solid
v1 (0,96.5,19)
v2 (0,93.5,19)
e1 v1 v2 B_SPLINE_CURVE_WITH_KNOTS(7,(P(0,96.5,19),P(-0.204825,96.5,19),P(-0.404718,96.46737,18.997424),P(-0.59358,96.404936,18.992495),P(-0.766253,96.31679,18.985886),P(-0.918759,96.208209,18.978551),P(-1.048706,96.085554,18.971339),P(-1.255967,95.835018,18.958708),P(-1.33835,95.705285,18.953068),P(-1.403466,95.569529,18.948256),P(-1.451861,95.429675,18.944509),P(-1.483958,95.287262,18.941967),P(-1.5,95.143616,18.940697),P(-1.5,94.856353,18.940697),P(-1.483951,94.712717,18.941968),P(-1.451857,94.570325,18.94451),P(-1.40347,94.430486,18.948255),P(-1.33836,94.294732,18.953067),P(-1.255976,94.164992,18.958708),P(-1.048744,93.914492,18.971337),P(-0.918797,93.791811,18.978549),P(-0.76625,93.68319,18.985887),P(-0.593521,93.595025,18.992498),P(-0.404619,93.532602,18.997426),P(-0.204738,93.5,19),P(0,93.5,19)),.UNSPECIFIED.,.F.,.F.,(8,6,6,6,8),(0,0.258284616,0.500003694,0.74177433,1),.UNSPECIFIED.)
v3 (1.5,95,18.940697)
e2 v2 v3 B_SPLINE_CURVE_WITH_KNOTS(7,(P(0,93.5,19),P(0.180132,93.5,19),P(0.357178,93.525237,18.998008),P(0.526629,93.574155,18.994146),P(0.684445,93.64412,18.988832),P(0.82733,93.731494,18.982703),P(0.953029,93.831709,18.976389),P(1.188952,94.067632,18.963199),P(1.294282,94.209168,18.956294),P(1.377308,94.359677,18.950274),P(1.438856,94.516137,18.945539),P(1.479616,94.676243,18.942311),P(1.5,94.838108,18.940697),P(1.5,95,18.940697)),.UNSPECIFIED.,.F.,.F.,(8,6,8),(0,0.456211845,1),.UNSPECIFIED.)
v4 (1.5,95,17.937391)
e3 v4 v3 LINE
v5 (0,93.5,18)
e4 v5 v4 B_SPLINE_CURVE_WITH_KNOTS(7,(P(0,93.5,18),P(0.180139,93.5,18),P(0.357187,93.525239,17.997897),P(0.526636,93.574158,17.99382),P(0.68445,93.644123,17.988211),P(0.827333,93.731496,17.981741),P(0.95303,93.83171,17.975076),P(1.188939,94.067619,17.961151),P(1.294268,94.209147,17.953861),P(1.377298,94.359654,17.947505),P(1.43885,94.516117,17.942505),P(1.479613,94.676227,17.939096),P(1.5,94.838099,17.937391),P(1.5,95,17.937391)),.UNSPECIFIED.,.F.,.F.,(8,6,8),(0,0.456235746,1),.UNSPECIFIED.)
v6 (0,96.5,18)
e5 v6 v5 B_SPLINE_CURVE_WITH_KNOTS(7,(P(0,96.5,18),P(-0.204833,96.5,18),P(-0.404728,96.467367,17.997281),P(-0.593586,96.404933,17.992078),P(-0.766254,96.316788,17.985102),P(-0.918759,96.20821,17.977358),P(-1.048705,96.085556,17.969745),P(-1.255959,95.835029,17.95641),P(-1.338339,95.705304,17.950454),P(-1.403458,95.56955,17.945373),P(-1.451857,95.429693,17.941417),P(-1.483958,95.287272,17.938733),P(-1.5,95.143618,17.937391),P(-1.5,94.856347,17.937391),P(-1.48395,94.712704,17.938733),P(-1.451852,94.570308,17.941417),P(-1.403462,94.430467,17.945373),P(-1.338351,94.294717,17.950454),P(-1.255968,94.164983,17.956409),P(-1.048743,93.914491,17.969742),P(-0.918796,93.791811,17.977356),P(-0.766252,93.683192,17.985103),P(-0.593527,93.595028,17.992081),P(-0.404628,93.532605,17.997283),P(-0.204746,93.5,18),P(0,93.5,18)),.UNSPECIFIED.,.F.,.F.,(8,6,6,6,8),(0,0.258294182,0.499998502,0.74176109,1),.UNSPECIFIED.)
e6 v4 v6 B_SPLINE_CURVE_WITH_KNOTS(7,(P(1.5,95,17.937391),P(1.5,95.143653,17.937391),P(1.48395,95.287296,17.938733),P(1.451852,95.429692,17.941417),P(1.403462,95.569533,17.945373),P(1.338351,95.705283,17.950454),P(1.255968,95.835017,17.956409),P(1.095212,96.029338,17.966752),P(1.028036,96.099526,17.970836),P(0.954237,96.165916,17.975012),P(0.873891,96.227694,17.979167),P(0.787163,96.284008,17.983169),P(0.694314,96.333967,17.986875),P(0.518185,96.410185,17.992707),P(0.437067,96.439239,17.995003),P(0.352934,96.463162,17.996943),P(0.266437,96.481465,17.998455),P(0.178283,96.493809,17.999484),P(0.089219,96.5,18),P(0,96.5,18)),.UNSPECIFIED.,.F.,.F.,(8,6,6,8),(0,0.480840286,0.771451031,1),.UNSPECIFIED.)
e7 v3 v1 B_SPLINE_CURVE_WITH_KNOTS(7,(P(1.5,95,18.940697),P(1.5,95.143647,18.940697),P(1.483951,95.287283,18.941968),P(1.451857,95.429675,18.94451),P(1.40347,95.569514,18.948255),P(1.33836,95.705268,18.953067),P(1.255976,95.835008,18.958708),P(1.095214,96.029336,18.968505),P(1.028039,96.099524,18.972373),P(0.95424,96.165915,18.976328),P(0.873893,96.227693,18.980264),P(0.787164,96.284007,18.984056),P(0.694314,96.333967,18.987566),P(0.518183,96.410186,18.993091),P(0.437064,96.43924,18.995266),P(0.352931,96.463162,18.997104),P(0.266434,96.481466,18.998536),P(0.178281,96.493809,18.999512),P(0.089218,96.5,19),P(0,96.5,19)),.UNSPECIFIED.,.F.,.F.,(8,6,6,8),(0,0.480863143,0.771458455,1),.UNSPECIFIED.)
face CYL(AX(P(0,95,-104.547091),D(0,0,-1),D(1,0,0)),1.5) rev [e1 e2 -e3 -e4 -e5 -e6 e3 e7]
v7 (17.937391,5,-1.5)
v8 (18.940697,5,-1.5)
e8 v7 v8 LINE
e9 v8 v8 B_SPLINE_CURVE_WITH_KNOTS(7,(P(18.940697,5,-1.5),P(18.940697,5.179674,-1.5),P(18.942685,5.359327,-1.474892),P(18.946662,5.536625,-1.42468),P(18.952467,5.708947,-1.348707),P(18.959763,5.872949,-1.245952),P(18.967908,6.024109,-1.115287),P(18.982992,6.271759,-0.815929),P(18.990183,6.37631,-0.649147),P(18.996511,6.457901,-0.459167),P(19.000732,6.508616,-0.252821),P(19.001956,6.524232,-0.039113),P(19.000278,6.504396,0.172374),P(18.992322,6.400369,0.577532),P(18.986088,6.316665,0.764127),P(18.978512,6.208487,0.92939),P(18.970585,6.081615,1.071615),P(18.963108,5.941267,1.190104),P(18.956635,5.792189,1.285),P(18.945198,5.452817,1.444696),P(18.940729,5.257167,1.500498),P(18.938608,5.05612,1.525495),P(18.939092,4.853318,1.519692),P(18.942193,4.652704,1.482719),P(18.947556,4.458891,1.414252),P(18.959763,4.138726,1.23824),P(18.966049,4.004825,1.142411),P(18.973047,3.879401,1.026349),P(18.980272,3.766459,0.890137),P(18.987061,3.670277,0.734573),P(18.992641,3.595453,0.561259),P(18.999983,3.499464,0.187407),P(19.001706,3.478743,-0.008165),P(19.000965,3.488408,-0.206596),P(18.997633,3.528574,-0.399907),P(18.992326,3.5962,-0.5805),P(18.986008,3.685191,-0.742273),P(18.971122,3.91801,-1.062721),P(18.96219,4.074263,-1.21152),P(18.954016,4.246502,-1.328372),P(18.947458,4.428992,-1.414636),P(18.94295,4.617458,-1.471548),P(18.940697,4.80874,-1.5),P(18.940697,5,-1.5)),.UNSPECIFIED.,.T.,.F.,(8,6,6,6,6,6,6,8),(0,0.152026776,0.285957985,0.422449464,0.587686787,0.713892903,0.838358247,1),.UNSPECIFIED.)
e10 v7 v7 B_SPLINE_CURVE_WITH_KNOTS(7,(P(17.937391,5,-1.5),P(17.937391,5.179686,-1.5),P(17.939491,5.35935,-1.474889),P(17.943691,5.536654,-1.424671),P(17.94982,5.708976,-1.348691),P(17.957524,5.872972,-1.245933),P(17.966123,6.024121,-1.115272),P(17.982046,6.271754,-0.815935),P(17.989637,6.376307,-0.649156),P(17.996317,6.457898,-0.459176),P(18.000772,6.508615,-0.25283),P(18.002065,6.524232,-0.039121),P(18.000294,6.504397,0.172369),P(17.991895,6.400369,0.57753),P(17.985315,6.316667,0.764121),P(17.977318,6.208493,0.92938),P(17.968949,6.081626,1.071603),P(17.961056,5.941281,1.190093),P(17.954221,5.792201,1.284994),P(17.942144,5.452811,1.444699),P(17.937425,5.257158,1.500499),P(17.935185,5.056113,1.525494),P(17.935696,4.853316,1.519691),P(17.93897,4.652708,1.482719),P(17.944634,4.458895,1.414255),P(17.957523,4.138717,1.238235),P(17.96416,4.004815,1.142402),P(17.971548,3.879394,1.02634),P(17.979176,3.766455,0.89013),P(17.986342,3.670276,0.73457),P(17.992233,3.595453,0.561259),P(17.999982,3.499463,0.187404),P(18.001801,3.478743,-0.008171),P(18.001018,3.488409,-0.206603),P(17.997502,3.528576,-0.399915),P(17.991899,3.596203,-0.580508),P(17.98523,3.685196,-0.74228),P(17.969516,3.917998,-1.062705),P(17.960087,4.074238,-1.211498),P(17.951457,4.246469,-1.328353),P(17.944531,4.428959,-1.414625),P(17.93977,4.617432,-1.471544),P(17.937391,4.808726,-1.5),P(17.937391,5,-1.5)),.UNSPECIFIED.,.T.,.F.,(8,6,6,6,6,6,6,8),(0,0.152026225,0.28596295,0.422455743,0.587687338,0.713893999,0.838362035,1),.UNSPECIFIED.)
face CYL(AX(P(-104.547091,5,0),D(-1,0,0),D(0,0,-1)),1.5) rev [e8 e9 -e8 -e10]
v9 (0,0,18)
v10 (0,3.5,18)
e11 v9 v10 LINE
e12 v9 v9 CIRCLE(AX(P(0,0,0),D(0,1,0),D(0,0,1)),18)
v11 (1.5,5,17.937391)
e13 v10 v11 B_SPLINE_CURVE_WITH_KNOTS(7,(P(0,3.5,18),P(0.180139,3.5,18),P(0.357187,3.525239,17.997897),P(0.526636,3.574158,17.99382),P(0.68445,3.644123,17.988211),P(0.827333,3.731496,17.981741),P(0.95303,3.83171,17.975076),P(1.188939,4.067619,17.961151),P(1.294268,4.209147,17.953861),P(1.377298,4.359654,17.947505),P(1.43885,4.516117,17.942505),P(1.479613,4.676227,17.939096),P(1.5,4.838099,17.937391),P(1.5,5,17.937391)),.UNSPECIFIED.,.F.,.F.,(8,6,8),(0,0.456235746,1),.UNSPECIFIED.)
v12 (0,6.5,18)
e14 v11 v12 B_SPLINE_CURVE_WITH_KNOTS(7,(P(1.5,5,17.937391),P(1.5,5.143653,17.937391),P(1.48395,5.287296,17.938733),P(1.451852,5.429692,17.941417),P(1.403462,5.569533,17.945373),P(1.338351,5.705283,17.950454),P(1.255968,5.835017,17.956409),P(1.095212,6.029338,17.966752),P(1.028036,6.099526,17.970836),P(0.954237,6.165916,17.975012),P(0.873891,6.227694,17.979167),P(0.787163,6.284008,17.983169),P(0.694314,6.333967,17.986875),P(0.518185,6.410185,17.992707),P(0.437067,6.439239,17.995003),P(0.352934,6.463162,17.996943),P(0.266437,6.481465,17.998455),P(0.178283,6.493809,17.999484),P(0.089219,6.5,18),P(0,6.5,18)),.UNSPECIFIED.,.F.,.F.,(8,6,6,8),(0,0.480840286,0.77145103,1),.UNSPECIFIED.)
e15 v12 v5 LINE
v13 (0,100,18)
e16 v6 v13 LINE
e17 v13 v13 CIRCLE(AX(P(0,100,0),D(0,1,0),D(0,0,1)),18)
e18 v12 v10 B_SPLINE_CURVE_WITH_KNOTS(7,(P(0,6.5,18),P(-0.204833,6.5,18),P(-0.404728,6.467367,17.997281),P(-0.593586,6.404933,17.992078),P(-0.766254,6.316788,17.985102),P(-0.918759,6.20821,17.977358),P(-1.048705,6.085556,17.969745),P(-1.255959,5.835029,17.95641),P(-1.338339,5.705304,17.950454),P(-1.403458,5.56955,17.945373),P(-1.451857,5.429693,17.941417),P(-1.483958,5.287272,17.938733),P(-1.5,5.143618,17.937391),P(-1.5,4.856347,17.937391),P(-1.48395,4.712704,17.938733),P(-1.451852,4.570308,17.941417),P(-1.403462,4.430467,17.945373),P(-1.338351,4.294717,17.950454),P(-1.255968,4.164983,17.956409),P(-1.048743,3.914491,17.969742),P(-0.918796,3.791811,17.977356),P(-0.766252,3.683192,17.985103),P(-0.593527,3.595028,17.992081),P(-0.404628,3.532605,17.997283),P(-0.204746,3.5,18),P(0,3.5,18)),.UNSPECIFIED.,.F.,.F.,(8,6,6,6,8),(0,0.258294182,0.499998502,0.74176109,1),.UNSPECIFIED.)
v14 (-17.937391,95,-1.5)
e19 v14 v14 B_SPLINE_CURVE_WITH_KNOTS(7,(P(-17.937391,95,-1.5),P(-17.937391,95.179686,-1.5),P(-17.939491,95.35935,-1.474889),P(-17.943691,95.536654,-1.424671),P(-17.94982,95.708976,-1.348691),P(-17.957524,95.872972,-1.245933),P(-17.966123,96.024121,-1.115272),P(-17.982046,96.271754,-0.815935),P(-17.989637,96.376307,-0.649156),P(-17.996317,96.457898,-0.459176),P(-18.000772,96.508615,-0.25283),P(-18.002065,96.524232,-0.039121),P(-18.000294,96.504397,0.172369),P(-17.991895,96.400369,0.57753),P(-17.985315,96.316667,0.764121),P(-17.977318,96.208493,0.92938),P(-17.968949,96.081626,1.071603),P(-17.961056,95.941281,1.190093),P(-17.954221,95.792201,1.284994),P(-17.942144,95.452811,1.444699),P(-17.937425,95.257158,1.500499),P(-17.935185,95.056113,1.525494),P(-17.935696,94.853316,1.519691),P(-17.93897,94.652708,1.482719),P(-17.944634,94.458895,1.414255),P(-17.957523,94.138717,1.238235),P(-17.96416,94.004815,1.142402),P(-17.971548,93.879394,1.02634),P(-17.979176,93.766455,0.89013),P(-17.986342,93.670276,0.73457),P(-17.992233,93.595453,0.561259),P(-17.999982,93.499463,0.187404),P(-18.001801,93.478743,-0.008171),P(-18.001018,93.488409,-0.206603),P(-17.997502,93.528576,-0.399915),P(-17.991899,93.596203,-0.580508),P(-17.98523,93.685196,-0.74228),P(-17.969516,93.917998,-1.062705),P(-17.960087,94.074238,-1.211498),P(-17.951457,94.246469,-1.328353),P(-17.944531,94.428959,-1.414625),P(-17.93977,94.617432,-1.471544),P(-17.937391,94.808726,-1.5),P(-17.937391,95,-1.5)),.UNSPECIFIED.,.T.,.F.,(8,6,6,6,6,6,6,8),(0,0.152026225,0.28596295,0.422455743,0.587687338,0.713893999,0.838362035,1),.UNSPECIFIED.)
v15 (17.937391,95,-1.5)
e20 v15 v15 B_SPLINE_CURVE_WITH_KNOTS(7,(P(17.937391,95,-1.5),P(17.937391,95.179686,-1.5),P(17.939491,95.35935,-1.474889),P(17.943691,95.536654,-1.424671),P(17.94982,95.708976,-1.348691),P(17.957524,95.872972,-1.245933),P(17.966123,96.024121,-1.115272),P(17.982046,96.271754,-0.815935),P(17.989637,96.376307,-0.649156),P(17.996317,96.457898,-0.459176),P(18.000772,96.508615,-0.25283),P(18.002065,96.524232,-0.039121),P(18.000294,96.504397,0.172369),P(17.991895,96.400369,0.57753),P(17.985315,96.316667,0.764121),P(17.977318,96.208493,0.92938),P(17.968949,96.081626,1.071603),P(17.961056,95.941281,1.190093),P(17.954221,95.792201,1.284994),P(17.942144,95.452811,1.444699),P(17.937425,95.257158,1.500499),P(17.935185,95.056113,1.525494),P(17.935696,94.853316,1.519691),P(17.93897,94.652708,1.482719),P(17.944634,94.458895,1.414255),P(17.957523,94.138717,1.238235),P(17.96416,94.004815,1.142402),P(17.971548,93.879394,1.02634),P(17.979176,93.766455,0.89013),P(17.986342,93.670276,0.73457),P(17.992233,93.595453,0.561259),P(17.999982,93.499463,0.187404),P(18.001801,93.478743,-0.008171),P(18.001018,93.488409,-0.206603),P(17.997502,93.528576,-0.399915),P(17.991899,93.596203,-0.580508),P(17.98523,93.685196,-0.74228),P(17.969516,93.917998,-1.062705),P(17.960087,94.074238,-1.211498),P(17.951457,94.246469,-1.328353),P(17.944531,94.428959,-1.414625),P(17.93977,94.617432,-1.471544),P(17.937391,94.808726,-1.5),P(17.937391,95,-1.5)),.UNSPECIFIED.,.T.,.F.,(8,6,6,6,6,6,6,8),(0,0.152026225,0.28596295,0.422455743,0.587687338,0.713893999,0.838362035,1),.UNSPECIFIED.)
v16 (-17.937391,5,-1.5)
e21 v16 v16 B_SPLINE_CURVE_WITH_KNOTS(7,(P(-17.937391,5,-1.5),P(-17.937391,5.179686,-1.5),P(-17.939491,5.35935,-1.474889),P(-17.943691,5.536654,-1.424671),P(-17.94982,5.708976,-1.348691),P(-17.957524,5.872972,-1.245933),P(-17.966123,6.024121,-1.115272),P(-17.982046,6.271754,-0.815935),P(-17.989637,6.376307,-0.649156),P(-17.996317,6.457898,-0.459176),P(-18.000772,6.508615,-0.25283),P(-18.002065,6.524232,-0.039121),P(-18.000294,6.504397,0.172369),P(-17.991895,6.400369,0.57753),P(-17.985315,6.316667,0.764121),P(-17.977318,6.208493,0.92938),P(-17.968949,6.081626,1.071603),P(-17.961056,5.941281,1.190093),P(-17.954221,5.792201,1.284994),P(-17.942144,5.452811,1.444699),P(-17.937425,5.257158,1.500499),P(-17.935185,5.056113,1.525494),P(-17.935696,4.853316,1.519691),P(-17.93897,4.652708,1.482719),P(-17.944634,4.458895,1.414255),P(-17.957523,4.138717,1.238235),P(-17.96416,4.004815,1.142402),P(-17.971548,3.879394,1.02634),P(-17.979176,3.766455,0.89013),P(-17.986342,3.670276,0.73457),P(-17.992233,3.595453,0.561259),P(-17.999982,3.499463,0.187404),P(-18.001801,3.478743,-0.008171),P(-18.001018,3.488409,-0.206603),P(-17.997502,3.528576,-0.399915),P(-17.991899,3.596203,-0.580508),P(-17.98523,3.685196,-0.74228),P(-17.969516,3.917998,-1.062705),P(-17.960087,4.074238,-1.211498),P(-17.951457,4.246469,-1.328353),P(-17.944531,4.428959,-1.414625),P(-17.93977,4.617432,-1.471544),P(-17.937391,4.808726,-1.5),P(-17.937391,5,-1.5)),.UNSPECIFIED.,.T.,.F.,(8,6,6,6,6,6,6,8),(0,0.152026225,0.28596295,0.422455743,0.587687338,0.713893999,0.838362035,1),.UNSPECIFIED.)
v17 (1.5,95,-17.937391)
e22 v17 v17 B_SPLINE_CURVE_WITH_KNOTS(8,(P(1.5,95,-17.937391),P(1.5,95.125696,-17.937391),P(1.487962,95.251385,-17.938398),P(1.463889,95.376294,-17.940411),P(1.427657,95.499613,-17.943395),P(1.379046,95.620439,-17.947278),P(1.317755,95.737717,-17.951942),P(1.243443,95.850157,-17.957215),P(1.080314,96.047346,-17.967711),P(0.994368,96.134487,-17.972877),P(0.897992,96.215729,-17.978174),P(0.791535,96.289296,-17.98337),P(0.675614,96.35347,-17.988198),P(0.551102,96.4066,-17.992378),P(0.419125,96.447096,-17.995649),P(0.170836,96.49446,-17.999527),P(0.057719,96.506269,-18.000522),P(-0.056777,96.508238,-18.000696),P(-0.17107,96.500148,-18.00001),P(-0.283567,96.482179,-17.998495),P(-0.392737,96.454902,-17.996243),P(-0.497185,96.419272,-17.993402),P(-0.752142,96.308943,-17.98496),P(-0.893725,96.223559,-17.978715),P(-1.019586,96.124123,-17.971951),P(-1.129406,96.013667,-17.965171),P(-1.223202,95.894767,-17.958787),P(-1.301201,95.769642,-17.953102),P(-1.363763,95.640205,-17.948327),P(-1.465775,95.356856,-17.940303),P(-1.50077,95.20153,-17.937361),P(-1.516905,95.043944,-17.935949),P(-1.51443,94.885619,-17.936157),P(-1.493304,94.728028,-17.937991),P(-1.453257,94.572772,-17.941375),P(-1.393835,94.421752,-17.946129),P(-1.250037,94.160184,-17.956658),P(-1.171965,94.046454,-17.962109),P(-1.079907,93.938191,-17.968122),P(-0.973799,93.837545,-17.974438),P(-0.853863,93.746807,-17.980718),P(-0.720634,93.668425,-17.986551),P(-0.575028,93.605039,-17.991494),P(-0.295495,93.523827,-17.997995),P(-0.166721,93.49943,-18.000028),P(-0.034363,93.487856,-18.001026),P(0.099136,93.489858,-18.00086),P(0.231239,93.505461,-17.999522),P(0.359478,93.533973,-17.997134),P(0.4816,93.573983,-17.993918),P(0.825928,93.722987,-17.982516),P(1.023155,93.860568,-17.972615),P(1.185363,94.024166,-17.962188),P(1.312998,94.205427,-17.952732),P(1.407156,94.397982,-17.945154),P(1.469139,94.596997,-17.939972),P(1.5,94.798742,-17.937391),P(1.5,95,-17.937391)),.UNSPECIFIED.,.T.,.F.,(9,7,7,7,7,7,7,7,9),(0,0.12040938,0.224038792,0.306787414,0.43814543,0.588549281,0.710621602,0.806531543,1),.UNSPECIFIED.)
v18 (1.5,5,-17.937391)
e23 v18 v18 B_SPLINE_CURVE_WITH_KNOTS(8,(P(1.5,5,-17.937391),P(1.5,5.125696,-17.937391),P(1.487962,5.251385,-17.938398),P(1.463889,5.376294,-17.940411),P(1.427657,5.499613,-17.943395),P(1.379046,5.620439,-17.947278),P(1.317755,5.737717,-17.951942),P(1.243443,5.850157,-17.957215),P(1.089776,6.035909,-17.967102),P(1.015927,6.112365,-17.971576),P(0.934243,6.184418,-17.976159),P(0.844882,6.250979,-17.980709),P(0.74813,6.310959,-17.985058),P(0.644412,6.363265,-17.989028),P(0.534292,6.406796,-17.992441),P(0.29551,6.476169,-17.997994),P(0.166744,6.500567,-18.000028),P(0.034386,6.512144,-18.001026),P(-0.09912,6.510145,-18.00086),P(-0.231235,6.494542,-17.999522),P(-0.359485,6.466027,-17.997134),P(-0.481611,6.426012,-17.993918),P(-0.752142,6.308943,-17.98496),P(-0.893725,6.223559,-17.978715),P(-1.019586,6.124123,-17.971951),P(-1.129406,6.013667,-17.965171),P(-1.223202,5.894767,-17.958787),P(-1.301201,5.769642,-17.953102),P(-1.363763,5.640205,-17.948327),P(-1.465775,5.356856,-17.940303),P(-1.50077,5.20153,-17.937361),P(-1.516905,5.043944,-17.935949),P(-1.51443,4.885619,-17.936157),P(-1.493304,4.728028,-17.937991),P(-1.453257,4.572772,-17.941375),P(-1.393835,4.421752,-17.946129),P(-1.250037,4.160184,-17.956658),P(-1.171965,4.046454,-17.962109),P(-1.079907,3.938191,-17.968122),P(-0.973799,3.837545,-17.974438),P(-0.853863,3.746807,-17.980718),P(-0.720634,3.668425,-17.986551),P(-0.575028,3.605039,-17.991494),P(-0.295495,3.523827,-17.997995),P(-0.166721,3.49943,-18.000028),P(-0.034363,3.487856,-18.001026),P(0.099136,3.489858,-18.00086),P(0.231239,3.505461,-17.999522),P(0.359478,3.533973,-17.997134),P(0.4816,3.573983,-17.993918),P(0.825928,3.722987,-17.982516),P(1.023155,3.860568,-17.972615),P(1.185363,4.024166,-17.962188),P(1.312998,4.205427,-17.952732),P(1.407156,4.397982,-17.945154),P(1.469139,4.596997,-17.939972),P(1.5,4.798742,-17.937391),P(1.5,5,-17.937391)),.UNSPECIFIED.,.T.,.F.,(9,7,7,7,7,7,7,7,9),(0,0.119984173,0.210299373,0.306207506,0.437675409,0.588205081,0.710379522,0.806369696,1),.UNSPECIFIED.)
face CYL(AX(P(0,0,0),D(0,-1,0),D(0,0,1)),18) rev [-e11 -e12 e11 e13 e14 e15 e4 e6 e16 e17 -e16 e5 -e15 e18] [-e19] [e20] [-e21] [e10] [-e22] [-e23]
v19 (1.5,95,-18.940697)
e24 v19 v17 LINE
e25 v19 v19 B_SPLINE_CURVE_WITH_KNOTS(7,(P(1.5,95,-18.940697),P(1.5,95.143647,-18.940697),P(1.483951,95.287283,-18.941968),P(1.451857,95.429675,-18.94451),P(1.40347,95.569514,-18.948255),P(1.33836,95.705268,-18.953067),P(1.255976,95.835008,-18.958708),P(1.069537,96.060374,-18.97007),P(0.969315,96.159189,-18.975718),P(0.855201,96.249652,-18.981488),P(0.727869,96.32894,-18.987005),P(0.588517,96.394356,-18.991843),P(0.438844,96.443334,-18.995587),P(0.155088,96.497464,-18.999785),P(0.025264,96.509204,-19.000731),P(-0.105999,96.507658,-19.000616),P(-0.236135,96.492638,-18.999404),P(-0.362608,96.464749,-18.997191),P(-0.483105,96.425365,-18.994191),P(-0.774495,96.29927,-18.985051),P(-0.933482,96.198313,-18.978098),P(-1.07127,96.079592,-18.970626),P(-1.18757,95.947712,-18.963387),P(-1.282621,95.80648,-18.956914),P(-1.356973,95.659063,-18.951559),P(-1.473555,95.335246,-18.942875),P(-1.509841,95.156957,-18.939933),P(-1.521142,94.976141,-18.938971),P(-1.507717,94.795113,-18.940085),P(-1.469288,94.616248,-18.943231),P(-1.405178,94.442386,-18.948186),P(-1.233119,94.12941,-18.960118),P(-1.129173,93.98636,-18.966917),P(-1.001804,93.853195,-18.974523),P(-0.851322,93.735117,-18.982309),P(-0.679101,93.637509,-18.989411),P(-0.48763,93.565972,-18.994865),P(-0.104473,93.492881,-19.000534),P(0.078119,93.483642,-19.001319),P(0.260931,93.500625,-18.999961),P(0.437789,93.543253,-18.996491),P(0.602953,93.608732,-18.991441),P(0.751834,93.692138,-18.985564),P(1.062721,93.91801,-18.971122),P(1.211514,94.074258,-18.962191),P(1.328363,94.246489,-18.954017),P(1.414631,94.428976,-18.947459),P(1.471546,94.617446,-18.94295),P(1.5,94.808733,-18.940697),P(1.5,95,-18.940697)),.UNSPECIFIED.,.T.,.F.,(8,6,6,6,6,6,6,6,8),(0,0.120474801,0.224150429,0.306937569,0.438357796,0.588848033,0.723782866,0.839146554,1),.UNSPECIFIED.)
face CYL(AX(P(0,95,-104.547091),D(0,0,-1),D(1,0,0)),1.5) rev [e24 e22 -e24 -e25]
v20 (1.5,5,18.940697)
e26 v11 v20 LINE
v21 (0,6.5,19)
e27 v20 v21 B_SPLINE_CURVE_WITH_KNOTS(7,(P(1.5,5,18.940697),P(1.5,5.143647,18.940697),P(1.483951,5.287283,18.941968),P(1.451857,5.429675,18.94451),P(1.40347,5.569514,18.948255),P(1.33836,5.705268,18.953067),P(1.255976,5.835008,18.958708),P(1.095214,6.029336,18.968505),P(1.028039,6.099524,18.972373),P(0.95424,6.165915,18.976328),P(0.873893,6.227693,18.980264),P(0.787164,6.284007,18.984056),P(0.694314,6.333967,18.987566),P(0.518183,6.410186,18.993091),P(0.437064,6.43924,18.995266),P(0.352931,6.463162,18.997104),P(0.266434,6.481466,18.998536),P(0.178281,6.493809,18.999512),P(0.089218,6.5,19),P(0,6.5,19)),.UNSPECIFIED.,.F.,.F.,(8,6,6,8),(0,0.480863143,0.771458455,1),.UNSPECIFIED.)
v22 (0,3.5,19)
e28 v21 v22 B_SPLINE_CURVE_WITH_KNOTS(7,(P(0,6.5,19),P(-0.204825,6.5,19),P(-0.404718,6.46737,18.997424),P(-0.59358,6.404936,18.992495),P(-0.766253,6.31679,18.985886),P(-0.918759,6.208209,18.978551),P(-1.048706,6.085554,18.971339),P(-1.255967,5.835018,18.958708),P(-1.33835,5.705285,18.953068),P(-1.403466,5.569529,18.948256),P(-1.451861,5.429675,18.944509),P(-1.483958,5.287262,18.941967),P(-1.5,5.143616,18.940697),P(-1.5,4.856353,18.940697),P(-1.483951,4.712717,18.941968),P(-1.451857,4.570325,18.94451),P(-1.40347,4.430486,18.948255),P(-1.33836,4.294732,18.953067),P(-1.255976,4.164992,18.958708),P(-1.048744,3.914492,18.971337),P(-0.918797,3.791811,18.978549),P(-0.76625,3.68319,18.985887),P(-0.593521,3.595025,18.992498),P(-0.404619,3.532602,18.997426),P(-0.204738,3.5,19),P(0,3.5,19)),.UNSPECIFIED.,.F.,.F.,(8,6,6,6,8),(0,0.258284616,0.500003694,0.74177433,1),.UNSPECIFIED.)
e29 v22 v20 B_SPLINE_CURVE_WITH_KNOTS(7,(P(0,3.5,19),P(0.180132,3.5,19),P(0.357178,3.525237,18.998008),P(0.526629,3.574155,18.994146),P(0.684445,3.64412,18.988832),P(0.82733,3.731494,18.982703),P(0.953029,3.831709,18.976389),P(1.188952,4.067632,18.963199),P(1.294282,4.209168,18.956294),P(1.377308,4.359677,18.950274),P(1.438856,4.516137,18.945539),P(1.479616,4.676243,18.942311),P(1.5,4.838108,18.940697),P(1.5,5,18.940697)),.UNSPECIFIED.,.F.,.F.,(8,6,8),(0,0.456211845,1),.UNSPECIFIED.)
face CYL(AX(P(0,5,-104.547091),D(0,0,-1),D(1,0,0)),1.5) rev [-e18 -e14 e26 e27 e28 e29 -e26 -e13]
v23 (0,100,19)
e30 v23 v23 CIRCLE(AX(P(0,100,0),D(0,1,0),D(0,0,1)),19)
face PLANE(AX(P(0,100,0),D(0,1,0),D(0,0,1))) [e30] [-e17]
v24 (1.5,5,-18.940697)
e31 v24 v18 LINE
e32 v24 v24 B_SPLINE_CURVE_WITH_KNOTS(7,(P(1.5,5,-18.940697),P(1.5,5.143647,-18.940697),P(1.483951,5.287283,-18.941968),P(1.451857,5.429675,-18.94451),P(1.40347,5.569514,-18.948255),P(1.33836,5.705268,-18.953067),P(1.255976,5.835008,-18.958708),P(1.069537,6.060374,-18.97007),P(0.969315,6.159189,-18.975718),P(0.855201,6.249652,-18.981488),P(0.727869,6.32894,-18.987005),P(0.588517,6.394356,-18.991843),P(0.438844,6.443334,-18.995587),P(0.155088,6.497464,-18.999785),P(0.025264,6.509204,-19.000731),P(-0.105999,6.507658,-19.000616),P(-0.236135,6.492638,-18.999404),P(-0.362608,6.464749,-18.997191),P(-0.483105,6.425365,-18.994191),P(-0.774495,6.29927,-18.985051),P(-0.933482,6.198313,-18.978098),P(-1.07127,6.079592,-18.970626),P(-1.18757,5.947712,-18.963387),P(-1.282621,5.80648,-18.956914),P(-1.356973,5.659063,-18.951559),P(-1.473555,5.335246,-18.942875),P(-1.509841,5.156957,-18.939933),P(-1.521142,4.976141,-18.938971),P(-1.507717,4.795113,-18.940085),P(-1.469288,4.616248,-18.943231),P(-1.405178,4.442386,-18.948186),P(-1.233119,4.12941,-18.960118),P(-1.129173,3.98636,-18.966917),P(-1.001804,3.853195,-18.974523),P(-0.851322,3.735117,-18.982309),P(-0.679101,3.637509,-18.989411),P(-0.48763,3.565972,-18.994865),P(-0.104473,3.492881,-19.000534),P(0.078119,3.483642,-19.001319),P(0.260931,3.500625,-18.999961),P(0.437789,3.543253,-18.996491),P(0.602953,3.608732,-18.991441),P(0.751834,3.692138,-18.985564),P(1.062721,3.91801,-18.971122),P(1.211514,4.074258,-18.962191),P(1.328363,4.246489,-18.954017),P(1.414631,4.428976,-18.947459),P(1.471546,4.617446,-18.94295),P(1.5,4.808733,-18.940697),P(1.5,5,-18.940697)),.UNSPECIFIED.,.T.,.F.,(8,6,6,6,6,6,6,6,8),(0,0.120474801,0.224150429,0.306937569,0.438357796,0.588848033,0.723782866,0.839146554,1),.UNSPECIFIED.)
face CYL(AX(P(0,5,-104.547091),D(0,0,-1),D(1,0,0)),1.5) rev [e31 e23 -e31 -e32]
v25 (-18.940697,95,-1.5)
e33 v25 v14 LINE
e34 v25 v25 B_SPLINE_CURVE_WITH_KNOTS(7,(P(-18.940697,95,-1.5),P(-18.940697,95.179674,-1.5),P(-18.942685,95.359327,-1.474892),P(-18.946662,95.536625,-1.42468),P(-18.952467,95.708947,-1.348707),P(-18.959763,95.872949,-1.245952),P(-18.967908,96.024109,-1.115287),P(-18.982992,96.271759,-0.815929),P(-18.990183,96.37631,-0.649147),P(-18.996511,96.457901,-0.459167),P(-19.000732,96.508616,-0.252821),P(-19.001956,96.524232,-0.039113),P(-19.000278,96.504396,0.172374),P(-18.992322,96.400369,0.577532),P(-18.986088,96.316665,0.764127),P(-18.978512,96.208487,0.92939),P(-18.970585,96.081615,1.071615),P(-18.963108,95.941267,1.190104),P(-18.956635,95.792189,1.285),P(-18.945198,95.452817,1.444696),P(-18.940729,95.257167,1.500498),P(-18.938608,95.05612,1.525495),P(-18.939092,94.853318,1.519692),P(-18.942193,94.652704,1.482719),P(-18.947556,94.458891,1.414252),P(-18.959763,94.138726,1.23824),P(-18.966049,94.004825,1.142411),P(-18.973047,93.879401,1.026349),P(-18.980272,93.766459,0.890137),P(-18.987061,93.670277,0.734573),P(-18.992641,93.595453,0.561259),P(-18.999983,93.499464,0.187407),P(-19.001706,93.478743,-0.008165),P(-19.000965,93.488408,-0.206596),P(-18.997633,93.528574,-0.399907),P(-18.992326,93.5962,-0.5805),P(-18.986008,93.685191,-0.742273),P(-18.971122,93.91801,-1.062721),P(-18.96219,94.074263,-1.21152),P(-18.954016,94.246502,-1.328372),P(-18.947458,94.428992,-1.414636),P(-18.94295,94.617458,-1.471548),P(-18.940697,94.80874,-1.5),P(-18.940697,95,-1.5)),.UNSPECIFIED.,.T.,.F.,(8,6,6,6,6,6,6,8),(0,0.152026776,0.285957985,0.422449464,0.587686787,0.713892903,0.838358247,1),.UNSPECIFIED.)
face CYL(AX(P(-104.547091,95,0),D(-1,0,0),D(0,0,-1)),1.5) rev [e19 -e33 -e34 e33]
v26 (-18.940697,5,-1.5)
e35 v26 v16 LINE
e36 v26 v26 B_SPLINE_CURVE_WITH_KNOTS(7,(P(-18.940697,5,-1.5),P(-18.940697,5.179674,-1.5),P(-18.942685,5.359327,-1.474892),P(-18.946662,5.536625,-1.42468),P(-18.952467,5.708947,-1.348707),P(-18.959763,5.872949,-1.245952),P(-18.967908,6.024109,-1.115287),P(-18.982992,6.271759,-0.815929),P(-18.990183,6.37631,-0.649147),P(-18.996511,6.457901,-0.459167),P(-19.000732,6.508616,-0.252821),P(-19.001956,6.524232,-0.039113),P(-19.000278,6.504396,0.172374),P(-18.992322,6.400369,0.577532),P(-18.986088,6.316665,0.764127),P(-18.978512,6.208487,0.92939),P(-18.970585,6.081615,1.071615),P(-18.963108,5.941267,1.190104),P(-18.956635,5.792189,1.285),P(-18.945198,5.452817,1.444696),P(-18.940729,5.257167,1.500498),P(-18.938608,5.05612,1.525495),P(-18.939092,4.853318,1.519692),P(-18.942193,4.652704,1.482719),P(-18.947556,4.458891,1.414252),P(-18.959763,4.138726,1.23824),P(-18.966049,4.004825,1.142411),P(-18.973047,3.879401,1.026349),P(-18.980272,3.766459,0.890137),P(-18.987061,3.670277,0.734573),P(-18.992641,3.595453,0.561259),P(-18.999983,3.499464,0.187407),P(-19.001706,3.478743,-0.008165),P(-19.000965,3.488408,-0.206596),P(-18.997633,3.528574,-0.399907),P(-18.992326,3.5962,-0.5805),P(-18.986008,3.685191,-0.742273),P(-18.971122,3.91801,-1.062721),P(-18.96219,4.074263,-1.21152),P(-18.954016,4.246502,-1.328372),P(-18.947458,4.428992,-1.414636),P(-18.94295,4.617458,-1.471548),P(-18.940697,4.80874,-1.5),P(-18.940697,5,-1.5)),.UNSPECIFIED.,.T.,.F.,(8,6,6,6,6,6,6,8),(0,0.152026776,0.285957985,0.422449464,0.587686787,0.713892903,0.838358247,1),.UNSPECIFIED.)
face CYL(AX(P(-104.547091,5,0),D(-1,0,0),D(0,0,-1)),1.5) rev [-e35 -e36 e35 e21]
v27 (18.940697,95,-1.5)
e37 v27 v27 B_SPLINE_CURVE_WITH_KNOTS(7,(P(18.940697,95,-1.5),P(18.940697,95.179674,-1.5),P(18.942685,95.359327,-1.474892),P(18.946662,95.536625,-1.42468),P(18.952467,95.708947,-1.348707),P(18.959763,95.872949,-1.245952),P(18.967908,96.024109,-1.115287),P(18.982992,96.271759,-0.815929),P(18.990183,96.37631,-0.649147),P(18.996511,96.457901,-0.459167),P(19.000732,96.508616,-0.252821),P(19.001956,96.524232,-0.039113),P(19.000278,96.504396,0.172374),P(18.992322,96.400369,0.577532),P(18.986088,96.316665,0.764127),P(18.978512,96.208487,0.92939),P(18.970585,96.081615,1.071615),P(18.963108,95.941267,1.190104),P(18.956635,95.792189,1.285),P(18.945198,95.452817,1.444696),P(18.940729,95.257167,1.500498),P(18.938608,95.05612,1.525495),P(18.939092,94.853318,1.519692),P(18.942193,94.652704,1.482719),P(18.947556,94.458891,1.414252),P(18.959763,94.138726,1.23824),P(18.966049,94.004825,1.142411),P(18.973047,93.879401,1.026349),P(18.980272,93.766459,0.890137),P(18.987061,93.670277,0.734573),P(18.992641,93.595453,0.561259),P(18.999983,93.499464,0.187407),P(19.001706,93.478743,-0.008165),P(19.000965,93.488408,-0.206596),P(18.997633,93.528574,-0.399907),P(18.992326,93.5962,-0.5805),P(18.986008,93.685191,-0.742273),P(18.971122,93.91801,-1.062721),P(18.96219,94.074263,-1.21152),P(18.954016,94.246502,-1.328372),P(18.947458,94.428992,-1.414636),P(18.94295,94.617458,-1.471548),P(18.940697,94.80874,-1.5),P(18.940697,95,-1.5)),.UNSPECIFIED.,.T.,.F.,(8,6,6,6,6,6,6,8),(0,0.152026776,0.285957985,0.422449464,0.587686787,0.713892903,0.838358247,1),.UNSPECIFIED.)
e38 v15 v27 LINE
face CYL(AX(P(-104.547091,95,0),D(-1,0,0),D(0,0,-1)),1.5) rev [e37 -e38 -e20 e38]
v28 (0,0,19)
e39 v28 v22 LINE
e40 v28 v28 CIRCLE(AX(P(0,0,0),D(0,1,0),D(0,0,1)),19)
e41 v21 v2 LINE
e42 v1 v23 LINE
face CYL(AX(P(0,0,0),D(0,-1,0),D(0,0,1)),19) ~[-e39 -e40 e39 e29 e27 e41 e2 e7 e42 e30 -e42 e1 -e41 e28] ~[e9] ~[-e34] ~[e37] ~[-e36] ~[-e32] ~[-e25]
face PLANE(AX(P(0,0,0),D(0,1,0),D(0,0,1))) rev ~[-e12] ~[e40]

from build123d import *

# Parameters (mm, degrees)
SKETCH1_R               = 19
SKETCH1_R_2             = 18
BOSS_EXTRUDE1_DEPTH     = 100
CUT_EXTRUDE1_DEPTH      = 104.547090737
CUT_EXTRUDE1_DEPTH_BACK = 104.547090737
SKETCH2_R               = 1.5
CUT_EXTRUDE2_DEPTH      = 104.54709087
CUT_EXTRUDE2_DEPTH_BACK = 104.54709087
SKETCH3_R               = 1.5


with BuildPart() as part:
    # Sketch1 → Boss-Extrude1 (new body)
    with BuildSketch(Plane(origin=(0, 0, 0), x_dir=(1, 0, 0), z_dir=(0, 1, 0))):
        with Locations(Location((0, 0, 0), (0, 0, 270))):
            Circle(SKETCH1_R)
        with Locations(Location((0, 0, 0), (0, 0, 270))):
            Circle(SKETCH1_R_2, mode=Mode.SUBTRACT)
    extrude(amount=BOSS_EXTRUDE1_DEPTH)

    # Sketch2 → Cut-Extrude1 (cut, two sides: drawn at the far end of the back side and taken through both)
    with BuildSketch(Plane.XY.offset(-CUT_EXTRUDE1_DEPTH_BACK)):
        with Locations((0, 95)):
            Circle(SKETCH2_R)
        with Locations((0, 5)):
            Circle(SKETCH2_R)
    extrude(amount=CUT_EXTRUDE1_DEPTH + CUT_EXTRUDE1_DEPTH_BACK, mode=Mode.SUBTRACT)

    # Sketch3 → Cut-Extrude2 (cut, two sides: drawn at the far end of the back side and taken through both)
    with BuildSketch(Plane(origin=(0, 0, 0), x_dir=(0, 0, -1), z_dir=(1, 0, 0)).offset(-CUT_EXTRUDE2_DEPTH_BACK)):
        with Locations((0, 5)):
            Circle(SKETCH3_R)
        with Locations((0, 95)):
            Circle(SKETCH3_R)
    extrude(amount=CUT_EXTRUDE2_DEPTH + CUT_EXTRUDE2_DEPTH_BACK, mode=Mode.SUBTRACT)


solid = part.part
